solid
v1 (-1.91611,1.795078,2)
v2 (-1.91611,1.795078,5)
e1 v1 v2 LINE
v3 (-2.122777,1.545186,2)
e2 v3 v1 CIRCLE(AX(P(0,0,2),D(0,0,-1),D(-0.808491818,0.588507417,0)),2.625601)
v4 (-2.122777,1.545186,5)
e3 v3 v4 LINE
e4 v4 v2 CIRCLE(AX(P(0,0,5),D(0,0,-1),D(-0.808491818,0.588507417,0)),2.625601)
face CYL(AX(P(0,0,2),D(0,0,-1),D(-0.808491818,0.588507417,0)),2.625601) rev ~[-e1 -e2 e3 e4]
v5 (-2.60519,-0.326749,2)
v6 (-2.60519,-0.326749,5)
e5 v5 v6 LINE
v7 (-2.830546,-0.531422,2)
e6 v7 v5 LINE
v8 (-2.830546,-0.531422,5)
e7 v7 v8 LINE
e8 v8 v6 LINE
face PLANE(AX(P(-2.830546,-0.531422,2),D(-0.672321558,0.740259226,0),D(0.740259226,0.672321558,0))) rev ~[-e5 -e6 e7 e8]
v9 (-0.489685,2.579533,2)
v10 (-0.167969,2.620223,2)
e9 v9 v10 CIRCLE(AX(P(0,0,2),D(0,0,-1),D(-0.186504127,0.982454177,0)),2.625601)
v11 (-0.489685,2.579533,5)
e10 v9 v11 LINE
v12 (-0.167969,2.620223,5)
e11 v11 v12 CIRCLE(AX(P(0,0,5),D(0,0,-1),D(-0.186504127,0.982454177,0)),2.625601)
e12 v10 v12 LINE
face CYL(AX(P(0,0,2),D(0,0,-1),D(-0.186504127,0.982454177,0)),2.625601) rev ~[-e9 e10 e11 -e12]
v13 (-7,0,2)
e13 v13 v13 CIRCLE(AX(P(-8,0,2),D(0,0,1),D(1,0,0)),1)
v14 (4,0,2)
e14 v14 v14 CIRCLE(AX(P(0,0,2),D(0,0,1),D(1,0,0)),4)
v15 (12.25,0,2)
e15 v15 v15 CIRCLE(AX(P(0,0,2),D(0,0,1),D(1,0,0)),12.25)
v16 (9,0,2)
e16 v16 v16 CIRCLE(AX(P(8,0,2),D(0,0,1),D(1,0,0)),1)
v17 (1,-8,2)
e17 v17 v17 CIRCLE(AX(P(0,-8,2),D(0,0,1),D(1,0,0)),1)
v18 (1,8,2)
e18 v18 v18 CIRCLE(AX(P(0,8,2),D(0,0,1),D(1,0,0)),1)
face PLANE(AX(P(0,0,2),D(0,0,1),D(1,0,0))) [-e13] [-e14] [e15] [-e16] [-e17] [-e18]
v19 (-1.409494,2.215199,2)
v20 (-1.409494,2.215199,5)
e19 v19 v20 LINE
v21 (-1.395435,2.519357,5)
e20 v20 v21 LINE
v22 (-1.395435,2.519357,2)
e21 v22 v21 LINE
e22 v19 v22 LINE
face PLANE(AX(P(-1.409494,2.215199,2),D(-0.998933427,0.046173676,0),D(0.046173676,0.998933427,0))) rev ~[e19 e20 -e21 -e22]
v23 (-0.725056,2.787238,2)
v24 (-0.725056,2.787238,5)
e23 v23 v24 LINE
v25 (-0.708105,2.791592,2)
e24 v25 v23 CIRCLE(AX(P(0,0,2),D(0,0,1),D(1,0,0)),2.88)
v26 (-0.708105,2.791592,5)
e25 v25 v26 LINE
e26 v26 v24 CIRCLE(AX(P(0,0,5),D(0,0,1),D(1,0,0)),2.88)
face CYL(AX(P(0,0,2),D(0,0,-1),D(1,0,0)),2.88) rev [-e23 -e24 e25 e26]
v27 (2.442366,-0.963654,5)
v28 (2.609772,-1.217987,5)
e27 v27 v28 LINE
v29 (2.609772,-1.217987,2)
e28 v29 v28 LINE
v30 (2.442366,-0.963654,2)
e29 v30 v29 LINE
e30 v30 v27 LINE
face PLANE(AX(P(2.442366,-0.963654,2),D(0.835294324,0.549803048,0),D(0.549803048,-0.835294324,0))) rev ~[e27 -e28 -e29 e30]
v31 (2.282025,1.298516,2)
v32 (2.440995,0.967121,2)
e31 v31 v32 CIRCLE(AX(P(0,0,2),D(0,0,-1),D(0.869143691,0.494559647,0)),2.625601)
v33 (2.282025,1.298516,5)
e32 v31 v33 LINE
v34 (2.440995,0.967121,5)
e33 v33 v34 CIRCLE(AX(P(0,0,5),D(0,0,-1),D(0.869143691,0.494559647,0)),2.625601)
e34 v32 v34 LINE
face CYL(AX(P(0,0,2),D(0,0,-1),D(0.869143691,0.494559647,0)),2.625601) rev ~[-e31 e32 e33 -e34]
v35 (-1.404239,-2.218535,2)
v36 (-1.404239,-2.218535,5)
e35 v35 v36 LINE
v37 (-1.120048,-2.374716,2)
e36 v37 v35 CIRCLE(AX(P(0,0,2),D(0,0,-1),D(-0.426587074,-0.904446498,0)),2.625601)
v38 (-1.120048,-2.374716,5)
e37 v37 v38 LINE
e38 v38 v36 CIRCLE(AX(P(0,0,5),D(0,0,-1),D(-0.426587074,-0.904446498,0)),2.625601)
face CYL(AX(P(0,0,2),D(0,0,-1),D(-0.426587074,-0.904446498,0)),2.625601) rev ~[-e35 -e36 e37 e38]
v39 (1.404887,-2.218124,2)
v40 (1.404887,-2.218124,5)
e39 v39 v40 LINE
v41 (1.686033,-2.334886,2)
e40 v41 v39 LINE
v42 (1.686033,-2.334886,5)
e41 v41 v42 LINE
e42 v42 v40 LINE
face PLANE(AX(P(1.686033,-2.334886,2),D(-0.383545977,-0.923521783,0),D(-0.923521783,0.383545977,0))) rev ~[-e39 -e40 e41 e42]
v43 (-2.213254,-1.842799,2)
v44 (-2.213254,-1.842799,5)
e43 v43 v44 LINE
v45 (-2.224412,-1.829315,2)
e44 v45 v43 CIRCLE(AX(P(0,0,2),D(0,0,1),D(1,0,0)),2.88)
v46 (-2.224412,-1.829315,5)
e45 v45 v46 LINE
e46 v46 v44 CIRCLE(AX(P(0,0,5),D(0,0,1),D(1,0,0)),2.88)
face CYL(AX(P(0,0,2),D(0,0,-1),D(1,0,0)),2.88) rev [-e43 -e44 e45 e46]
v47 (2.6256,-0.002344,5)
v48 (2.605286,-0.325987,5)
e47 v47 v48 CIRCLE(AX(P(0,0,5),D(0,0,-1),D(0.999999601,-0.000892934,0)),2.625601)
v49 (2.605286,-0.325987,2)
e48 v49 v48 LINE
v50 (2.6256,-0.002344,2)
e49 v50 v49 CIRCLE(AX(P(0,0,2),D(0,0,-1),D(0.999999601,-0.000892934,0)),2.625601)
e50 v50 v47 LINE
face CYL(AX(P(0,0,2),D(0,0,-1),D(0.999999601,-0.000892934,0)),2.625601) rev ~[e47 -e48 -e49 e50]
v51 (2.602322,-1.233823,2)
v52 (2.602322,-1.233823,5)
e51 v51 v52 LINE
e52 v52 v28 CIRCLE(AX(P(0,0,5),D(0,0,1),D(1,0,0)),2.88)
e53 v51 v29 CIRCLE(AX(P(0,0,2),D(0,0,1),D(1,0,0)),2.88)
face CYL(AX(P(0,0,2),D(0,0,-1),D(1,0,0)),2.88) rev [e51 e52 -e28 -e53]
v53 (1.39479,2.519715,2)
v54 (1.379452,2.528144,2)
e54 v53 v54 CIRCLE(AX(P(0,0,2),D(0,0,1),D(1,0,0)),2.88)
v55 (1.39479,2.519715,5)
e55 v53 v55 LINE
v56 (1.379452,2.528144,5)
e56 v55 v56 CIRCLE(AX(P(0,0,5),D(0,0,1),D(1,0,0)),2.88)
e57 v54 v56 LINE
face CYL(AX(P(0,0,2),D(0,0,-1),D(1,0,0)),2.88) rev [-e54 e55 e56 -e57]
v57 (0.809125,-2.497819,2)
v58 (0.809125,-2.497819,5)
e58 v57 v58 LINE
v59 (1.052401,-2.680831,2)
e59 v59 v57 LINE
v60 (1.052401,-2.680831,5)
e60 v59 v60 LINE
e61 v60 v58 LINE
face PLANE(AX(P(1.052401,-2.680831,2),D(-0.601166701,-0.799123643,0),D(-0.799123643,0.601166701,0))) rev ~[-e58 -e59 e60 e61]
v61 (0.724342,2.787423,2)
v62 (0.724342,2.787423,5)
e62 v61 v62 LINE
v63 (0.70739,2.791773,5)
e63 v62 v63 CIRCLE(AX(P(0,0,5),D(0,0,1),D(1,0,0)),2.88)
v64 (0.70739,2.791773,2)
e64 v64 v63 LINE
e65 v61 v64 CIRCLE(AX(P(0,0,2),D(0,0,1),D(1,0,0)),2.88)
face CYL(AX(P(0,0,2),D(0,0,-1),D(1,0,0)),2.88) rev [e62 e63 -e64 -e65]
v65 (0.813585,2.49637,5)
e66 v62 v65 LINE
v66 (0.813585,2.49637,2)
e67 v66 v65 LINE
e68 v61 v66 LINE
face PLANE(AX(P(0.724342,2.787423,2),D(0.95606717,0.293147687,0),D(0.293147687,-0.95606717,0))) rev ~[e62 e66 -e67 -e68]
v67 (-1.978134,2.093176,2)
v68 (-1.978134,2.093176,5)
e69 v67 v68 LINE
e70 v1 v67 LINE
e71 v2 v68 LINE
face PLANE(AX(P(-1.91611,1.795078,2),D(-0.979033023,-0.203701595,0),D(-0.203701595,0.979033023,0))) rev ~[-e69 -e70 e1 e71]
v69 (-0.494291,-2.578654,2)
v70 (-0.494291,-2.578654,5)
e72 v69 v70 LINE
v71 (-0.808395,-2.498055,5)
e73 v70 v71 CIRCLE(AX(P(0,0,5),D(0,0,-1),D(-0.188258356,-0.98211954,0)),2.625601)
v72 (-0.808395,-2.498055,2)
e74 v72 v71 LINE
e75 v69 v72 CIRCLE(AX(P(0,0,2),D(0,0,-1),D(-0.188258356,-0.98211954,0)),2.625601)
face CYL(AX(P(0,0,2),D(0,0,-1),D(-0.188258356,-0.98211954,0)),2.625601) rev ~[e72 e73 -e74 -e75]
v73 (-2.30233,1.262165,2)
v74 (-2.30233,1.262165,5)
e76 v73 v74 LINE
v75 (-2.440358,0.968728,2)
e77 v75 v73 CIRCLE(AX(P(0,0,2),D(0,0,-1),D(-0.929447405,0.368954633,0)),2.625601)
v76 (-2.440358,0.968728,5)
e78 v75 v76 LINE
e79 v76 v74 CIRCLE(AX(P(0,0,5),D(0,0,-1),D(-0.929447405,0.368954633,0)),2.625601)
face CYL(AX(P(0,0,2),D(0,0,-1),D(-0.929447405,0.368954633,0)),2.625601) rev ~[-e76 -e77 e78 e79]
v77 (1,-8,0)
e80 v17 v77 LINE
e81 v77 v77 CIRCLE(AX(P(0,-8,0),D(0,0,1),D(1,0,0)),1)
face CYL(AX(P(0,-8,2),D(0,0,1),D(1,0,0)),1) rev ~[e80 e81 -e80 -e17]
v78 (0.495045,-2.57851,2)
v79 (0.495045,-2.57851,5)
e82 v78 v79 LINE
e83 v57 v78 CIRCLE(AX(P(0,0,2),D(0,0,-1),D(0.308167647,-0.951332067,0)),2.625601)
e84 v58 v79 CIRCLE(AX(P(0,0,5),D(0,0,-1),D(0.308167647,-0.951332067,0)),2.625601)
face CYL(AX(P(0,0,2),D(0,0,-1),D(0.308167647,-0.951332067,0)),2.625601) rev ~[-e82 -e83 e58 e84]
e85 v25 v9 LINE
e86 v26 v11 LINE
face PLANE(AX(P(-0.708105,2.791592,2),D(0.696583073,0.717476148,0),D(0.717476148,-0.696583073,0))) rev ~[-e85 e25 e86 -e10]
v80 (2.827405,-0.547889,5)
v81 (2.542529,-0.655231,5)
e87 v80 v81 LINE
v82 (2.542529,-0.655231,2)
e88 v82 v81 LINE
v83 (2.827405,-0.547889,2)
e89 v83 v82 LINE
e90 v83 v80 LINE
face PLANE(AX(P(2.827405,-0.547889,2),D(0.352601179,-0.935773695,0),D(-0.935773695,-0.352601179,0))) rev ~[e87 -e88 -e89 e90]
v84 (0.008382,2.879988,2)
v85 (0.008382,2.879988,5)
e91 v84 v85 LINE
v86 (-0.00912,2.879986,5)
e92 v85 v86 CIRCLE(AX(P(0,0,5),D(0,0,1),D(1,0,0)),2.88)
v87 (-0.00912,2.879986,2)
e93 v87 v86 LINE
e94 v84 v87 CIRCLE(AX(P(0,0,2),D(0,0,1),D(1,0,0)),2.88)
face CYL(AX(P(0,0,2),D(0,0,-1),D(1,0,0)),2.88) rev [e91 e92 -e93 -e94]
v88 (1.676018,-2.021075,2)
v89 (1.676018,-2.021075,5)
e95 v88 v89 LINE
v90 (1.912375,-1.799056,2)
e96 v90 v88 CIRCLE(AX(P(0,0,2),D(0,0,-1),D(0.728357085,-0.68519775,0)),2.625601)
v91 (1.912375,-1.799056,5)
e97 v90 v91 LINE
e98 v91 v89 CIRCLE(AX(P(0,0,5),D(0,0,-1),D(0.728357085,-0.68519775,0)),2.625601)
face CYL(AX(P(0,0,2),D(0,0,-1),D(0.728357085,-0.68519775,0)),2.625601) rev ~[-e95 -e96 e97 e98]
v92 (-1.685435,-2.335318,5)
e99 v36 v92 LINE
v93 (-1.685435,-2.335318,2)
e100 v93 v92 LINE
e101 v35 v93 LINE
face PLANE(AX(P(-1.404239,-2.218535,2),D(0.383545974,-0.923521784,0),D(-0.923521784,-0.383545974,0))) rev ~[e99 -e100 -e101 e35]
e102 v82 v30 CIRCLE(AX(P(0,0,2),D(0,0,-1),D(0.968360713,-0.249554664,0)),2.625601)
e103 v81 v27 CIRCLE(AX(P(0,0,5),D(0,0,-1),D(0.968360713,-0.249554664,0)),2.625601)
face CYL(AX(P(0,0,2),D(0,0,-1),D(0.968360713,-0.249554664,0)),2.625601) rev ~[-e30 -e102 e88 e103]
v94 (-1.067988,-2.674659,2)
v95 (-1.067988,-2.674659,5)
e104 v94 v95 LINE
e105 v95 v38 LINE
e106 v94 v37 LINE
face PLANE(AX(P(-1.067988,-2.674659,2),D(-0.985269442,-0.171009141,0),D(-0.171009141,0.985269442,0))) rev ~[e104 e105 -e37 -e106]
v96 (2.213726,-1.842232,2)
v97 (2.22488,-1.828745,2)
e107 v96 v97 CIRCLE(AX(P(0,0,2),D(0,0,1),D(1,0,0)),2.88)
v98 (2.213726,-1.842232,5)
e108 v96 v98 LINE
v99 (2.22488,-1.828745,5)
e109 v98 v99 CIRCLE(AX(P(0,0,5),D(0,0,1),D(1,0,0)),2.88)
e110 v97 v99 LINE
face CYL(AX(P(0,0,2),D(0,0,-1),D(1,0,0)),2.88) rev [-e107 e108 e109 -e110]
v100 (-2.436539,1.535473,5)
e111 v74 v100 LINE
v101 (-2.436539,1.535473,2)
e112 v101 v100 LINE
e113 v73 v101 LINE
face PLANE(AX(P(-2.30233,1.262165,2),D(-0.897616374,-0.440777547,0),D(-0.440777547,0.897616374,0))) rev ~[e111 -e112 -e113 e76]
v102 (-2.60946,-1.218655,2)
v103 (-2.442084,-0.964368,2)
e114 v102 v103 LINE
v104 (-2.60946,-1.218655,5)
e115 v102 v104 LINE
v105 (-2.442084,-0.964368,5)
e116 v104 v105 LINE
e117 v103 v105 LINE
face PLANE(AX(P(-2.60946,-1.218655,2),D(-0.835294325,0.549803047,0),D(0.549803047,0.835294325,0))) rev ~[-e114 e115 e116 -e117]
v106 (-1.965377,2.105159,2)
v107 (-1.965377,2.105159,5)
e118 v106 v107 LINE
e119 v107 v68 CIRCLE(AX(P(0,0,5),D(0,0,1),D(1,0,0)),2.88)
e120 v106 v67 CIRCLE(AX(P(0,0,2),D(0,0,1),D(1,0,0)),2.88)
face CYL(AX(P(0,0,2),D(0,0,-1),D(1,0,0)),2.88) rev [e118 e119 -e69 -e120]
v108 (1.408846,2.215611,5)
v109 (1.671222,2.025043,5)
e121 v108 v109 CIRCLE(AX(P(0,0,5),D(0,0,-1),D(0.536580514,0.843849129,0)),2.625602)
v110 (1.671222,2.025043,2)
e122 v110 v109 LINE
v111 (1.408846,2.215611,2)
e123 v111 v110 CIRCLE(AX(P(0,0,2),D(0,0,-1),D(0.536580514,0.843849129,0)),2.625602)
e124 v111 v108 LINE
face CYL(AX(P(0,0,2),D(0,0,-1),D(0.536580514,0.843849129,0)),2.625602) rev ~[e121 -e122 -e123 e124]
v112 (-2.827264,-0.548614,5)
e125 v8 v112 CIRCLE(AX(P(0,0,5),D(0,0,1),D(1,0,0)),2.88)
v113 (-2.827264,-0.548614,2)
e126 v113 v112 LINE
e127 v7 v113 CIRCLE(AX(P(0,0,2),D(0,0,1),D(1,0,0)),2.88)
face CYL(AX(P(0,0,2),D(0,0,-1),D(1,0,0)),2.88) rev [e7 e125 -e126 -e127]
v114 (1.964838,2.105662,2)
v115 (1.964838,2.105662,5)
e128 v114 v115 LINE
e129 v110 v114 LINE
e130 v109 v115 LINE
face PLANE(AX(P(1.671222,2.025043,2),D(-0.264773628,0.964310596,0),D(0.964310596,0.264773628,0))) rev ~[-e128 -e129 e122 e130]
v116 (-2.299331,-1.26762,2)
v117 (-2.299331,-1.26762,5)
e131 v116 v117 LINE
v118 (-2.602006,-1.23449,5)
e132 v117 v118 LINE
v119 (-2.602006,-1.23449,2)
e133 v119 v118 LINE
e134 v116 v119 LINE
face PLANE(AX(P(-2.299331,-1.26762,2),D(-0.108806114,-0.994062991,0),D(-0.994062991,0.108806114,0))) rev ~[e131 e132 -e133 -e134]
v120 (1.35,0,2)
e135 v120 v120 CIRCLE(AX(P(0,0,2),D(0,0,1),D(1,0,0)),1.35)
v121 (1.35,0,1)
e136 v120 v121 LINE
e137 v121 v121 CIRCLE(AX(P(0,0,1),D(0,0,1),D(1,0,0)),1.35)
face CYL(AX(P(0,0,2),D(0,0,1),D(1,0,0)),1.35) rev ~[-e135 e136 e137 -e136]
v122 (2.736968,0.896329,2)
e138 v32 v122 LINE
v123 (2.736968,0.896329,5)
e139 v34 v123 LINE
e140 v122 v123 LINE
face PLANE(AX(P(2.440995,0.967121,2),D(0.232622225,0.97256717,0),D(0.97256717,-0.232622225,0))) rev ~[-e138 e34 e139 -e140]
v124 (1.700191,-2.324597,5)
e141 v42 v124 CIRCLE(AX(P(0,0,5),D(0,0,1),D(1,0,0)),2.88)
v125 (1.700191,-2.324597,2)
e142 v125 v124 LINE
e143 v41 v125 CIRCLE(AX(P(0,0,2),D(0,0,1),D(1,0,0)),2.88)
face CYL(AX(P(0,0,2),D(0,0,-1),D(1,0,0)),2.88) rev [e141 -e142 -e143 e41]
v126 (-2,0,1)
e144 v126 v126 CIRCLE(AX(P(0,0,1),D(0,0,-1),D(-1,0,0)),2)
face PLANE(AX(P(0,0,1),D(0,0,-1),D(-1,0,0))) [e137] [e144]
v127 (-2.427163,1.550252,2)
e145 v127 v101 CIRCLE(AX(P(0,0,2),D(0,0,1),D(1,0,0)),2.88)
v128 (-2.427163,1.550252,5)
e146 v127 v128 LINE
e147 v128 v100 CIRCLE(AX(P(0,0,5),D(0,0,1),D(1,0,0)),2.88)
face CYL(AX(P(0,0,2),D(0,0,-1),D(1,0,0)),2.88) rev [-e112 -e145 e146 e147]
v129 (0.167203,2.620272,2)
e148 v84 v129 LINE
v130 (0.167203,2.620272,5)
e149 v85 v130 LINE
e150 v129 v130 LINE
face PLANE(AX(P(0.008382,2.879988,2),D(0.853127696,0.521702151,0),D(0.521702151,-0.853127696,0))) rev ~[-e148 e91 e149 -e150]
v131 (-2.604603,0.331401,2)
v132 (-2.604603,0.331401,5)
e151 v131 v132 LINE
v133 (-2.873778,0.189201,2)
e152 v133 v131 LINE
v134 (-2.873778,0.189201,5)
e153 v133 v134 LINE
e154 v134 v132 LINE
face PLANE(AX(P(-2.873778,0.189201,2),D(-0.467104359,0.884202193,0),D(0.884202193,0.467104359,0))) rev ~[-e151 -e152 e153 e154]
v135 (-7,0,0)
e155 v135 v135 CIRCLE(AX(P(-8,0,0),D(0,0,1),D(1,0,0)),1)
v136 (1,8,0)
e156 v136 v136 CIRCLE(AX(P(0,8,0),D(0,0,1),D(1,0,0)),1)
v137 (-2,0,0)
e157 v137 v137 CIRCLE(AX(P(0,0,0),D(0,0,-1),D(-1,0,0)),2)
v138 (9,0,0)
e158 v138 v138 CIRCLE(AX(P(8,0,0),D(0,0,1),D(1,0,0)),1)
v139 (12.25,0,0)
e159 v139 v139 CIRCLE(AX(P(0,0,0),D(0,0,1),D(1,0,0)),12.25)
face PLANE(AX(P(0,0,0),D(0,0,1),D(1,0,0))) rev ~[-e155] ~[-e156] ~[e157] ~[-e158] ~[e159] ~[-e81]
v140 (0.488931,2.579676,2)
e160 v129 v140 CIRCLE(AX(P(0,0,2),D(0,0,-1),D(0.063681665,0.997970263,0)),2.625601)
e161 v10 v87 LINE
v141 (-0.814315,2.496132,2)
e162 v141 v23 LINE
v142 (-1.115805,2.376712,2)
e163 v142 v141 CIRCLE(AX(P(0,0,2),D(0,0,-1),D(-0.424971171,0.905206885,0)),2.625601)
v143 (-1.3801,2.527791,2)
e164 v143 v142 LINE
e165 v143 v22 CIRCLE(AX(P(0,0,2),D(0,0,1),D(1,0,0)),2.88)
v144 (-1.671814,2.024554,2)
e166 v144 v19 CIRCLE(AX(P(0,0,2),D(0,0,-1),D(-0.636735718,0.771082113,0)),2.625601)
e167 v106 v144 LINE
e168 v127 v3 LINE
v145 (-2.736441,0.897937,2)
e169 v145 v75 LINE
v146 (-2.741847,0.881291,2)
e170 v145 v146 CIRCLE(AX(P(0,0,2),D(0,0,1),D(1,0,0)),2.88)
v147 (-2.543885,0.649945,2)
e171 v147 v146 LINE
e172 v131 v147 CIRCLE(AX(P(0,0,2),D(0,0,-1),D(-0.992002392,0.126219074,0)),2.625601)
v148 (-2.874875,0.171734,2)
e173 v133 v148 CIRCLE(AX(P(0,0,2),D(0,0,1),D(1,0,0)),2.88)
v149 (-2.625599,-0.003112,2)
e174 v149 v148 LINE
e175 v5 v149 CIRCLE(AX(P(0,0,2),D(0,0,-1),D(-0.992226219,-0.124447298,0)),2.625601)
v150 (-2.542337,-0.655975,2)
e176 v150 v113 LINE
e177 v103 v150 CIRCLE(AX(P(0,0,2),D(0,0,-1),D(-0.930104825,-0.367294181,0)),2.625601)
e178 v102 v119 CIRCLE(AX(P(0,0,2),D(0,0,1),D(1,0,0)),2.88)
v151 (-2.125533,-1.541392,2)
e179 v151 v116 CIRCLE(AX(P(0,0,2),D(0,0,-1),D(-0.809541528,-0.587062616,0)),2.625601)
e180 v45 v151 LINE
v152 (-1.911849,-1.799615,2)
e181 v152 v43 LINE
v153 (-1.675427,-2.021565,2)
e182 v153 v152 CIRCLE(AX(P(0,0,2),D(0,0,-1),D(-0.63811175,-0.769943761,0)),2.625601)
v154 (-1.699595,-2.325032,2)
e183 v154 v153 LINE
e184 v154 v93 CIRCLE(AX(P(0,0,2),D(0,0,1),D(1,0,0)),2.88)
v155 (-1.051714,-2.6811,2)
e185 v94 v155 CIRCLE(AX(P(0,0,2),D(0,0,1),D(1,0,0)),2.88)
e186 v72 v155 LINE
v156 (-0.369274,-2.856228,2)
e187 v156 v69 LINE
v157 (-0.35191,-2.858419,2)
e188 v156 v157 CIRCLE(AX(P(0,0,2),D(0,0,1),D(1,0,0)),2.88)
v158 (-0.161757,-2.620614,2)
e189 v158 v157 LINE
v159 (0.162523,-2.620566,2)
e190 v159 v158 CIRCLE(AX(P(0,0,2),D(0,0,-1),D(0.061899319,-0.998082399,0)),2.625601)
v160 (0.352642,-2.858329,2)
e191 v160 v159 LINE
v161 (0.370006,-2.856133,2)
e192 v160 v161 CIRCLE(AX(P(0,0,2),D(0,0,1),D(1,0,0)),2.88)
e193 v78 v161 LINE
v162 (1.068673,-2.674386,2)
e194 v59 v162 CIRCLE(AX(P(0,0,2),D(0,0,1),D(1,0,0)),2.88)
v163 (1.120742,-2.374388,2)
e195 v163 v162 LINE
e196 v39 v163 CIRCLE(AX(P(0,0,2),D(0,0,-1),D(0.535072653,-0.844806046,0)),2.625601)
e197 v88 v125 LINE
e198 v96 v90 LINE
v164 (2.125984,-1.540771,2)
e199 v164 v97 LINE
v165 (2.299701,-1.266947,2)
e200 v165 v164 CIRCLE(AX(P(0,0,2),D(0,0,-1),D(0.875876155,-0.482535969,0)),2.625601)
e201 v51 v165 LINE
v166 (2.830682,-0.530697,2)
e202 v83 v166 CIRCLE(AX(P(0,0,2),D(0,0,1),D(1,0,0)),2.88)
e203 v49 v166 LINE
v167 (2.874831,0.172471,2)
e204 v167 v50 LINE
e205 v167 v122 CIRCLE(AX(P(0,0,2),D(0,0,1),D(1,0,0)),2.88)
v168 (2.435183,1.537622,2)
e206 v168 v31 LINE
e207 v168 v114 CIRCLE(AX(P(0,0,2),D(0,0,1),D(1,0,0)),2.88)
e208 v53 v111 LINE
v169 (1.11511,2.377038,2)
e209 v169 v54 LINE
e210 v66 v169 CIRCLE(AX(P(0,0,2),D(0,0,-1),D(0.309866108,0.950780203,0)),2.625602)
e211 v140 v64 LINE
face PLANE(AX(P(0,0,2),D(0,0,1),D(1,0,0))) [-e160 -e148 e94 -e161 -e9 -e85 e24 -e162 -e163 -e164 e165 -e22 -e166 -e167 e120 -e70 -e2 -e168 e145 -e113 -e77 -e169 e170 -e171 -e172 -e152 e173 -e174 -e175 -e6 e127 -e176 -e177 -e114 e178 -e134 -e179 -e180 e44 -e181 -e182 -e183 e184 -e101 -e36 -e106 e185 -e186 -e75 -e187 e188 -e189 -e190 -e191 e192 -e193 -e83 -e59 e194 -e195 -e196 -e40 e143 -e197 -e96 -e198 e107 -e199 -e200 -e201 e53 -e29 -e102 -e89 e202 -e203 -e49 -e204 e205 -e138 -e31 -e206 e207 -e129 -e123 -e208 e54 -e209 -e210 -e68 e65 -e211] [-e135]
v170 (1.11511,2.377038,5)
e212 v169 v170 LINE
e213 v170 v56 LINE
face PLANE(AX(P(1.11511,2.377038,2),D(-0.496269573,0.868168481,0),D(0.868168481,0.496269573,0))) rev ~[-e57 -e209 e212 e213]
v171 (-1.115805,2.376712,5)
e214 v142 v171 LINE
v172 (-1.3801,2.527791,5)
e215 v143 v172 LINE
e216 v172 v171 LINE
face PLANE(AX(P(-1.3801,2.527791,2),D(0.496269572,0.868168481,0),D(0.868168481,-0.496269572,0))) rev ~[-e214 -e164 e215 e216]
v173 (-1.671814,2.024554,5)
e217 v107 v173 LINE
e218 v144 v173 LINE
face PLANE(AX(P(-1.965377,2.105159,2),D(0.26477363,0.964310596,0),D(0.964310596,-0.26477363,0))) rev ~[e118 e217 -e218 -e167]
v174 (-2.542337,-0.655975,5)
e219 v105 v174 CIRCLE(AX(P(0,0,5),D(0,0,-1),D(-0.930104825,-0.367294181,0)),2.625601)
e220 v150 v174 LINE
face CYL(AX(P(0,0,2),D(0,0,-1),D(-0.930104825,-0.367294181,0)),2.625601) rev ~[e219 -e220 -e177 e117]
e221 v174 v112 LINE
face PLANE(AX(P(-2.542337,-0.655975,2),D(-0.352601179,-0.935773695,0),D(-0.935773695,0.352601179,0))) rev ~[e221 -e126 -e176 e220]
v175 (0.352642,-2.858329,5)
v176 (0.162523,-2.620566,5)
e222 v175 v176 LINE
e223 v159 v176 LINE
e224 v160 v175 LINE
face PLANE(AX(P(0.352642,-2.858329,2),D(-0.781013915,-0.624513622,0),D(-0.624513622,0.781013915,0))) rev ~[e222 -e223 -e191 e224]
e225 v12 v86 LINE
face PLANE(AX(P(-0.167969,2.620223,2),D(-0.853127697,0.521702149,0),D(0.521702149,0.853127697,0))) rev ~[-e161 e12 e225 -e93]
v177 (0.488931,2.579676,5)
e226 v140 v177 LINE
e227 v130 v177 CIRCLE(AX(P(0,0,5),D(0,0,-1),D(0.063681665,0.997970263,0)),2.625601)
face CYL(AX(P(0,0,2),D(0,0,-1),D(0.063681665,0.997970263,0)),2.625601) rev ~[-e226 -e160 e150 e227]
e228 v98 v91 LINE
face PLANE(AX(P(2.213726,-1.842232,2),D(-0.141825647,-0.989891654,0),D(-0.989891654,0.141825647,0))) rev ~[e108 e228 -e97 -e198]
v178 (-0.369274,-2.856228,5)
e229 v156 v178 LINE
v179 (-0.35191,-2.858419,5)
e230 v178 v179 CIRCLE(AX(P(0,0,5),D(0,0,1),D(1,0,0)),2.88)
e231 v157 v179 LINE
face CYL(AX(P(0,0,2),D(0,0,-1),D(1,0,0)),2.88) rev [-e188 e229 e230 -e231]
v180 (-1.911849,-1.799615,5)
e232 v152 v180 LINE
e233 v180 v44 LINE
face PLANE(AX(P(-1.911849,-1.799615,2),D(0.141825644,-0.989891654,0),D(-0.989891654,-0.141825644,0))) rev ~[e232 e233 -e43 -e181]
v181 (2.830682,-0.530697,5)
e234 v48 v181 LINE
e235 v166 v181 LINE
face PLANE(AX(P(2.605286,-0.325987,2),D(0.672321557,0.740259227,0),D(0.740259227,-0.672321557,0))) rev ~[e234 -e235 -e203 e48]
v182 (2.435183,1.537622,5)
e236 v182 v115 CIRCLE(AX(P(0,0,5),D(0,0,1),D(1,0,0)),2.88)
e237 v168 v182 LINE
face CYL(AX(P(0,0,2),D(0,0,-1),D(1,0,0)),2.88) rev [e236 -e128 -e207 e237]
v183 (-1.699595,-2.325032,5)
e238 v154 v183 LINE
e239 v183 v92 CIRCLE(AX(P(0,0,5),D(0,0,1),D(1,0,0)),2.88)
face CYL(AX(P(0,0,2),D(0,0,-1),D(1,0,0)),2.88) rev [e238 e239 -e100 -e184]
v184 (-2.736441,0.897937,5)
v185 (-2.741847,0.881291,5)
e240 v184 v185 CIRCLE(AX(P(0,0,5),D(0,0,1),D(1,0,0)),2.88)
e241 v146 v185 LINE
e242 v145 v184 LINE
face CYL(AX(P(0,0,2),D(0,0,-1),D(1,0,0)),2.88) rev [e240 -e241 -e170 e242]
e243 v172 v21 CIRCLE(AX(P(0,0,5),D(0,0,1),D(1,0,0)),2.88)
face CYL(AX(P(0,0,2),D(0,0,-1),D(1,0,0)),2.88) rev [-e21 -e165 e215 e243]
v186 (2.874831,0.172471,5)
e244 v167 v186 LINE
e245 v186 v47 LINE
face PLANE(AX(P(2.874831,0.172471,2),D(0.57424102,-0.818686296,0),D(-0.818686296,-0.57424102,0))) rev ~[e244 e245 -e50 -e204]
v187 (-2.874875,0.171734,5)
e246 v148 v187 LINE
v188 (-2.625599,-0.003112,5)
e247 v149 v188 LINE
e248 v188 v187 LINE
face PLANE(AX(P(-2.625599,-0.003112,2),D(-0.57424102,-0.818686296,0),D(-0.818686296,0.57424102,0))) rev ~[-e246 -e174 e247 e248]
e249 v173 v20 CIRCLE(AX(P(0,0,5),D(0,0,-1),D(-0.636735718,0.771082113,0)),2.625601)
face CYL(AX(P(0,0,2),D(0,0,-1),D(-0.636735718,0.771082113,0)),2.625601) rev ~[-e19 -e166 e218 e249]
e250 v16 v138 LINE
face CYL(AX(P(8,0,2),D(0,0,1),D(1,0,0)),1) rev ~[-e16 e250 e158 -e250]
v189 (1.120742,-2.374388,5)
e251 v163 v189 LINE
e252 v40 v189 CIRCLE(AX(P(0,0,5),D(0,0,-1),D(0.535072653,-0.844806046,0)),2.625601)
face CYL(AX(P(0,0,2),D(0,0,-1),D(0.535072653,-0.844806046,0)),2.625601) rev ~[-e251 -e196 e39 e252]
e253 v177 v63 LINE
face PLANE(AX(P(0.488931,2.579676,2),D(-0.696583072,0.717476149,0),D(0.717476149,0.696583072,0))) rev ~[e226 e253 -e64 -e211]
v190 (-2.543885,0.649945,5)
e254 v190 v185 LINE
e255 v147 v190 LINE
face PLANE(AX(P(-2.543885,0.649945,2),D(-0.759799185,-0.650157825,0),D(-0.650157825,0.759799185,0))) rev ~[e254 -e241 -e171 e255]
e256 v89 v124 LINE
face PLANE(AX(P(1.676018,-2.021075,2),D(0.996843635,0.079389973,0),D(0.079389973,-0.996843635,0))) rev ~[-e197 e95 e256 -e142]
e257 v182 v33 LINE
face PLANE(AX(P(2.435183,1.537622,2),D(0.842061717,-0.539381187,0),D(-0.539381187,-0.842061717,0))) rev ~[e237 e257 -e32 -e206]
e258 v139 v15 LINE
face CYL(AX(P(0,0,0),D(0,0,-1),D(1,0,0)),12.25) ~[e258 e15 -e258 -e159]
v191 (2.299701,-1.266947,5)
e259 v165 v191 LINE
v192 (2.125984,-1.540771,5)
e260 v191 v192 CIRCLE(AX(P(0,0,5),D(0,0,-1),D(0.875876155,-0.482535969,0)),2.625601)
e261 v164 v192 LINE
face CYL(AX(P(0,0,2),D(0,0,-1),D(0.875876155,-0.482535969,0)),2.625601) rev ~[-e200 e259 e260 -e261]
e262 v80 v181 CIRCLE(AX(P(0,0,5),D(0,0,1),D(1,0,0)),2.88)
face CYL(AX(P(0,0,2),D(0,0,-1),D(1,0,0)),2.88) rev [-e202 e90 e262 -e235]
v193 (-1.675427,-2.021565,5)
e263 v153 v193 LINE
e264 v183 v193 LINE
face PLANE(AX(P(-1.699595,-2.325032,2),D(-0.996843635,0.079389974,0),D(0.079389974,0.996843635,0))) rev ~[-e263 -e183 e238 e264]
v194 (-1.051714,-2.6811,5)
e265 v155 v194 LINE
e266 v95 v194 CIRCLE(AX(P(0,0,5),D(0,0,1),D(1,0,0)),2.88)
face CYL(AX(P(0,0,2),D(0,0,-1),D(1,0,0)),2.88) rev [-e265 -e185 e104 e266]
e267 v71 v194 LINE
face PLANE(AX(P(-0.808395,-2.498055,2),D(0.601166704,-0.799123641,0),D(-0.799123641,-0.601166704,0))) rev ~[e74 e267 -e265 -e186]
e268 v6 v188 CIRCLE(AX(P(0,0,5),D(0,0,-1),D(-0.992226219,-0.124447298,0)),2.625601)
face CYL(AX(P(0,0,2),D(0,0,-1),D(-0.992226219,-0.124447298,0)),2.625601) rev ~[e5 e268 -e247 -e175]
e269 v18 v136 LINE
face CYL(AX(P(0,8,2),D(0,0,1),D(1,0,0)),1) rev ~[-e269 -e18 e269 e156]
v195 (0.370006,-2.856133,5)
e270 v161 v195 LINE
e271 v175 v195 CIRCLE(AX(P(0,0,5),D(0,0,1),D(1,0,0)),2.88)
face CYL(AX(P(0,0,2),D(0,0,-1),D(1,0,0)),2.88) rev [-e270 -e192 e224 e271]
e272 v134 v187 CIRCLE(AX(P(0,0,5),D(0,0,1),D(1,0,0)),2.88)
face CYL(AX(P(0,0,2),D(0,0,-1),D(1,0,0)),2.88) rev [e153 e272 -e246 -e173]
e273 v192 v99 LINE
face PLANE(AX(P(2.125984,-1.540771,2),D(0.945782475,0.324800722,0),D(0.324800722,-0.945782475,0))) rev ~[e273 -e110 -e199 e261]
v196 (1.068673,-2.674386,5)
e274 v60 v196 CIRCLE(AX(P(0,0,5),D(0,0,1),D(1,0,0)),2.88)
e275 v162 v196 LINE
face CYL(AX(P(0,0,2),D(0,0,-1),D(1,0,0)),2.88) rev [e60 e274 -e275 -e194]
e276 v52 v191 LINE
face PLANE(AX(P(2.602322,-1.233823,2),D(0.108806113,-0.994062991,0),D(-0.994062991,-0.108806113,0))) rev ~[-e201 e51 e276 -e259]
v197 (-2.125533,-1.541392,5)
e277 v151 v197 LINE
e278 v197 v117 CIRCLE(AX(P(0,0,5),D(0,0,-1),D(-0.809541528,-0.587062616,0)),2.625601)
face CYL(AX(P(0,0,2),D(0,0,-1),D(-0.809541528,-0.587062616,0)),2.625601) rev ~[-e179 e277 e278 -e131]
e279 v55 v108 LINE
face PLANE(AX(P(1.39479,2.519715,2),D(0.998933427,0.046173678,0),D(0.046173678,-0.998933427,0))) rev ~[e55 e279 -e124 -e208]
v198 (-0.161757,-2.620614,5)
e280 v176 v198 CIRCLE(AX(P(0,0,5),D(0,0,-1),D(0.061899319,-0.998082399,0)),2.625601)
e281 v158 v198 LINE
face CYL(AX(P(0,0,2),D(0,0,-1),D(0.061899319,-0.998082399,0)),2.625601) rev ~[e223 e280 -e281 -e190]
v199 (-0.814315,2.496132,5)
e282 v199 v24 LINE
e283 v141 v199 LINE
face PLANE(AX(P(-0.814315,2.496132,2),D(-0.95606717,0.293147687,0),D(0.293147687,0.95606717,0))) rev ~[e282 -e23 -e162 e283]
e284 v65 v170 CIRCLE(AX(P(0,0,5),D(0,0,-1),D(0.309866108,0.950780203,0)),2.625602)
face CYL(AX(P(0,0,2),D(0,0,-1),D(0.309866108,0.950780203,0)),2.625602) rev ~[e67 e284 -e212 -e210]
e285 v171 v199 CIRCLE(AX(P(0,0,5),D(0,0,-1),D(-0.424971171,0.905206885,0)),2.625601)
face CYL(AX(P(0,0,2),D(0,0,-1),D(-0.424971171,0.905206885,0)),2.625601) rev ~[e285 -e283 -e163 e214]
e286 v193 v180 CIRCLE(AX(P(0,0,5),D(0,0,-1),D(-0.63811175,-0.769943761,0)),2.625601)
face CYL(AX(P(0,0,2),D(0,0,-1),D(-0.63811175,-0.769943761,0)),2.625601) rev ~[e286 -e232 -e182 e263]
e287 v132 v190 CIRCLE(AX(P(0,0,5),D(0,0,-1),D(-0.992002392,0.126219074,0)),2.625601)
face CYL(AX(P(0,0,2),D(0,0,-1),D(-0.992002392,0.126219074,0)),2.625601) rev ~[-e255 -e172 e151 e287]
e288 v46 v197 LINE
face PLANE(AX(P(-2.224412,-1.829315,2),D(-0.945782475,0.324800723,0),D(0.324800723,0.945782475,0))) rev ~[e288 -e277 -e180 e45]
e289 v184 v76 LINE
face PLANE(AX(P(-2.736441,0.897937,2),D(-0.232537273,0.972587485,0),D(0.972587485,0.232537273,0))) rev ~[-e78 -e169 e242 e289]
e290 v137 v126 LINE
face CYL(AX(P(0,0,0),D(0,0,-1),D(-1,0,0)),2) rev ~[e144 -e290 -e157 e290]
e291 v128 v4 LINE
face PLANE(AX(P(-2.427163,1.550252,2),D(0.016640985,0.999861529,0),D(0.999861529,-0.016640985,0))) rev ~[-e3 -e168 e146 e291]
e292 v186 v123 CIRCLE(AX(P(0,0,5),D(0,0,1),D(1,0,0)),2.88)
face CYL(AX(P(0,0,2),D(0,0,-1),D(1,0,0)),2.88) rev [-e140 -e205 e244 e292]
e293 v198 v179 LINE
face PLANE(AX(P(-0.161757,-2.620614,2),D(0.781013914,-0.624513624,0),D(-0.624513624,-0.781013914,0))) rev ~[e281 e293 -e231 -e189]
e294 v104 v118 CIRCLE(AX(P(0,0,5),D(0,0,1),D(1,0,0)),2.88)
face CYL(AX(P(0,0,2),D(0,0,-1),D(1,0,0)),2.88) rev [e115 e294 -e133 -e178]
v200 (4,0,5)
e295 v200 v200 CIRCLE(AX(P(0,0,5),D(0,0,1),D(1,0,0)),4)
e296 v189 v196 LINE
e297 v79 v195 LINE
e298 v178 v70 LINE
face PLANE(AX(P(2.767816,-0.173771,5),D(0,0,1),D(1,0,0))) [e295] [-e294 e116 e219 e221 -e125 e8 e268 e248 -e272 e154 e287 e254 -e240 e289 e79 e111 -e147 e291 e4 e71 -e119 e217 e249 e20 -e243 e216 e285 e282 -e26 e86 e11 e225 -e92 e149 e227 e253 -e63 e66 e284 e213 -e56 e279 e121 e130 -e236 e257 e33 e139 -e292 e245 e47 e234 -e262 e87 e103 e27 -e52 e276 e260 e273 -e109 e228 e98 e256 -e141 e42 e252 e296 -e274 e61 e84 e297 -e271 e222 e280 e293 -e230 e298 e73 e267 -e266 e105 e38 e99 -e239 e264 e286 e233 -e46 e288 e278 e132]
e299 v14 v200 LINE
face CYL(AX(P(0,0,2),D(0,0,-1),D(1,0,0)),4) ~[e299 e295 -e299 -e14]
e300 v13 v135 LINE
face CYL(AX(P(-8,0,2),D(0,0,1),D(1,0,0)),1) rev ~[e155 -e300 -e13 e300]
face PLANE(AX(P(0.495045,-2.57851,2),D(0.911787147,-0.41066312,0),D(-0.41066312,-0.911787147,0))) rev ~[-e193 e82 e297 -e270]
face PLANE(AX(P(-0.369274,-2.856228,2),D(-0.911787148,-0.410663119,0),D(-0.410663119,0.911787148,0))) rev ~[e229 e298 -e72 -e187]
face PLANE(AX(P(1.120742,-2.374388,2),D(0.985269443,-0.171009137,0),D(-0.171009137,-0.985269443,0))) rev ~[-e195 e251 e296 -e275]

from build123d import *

# Parameters (mm, degrees)
SKETCH1_R           = 12.25
BOSS_EXTRUDE1_DEPTH = 2
SKETCH2_R           = 1
CUT_EXTRUDE1_DEPTH  = 2
SKETCH3_R           = 1.35
CUT_EXTRUDE2_DEPTH  = 4
SKETCH4_R           = 4
SKETCH4_R_2         = 2.88
BOSS_EXTRUDE2_DEPTH = 3
SKETCH6_R           = 2
CUT_EXTRUDE3_DEPTH  = 1
BOSS_EXTRUDE4_START = -3
BOSS_EXTRUDE4_DEPTH = 3


with BuildPart() as part:
    # Sketch1 → Boss-Extrude1 (new body)
    with BuildSketch(Plane.XY):
        Circle(SKETCH1_R)
    extrude(amount=BOSS_EXTRUDE1_DEPTH)

    # Sketch2 → Cut-Extrude1 (cut)
    with BuildSketch(Plane.XY.offset(2)):
        with Locations((-8, 0)):
            Circle(SKETCH2_R)
        with Locations((0, 8)):
            Circle(SKETCH2_R)
        with Locations((8, 0)):
            Circle(SKETCH2_R)
        with Locations((0, -8)):
            Circle(SKETCH2_R)
    extrude(amount=-CUT_EXTRUDE1_DEPTH, mode=Mode.SUBTRACT)

    # Sketch3 → Cut-Extrude2 (cut)
    with BuildSketch(Plane.XY.offset(2)):
        Circle(SKETCH3_R)
    extrude(amount=-CUT_EXTRUDE2_DEPTH, mode=Mode.SUBTRACT)

    # Sketch4 → Boss-Extrude2 (add)
    with BuildSketch(Plane.XY.offset(2)):
        Circle(SKETCH4_R)
        Circle(SKETCH4_R_2, mode=Mode.SUBTRACT)
    extrude(amount=BOSS_EXTRUDE2_DEPTH)

    # Sketch6 → Cut-Extrude3 (cut)
    with BuildSketch(Plane(origin=(0, 0, 0), x_dir=(-1, 0, 0), z_dir=(0, 0, -1))):
        Circle(SKETCH6_R)
    extrude(amount=-CUT_EXTRUDE3_DEPTH, mode=Mode.SUBTRACT)

    # Sketch5 → Boss-Extrude4 (add)
    with BuildSketch(Plane.XY.offset(5).offset(BOSS_EXTRUDE4_START)):
        with BuildLine():
            Line((-0.161756527, -2.620613729), (-0.351910166, -2.85841901))
            ThreePointArc((-0.351910166, -2.85841901), (0.000368858, -2.879999976), (0.352642342, -2.858328774))
            Line((0.352642342, -2.858328774), (0.162522941, -2.62056631))
            ThreePointArc((0.162522941, -2.62056631), (0.00038394, -2.625601139), (-0.161756527, -2.620613729))
        make_face()
        with BuildLine():
            ThreePointArc((-1.051714162, -2.681100021), (-0.715869599, -2.789611212), (-0.369274025, -2.856227703))
            Line((-0.369274025, -2.856227703), (-0.494291356, -2.578654212))
            ThreePointArc((-0.494291356, -2.578654212), (-0.652588574, -2.543208533), (-0.808394781, -2.498055117))
            Line((-0.808394781, -2.498055117), (-1.051714162, -2.681100021))
        make_face()
        with BuildLine():
            Line((0.495045485, -2.578509542), (0.37000564, -2.85613302))
            ThreePointArc((0.37000564, -2.85613302), (0.716584139, -2.78942775), (1.052400895, -2.680830535))
            Line((1.052400895, -2.680830535), (0.809125323, -2.497818589))
            ThreePointArc((0.809125323, -2.497818589), (0.653332329, -2.54301757), (0.495045485, -2.578509542))
        make_face()
        with BuildLine():
            ThreePointArc((-1.685435089, -2.335317657), (-1.387127337, -2.523940917), (-1.067987548, -2.674659342))
            Line((-1.067987548, -2.674659342), (-1.12004751, -2.374715787))
            ThreePointArc((-1.12004751, -2.374715787), (-1.264556547, -2.301016782), (-1.404238617, -2.218534516))
            Line((-1.404238617, -2.218534516), (-1.685435089, -2.335317657))
        make_face()
        with BuildLine():
            Line((1.120741967, -2.374388118), (1.068672631, -2.674385688))
            ThreePointArc((1.068672631, -2.674385688), (1.387773803, -2.523585519), (1.686033229, -2.334885854))
            Line((1.686033229, -2.334885854), (1.404887387, -2.218123739))
            ThreePointArc((1.404887387, -2.218123739), (1.265229445, -2.300646853), (1.120741967, -2.374388118))
        make_face()
        with BuildLine():
            ThreePointArc((-2.213253931, -1.842798696), (-1.971226763, -2.09968213), (-1.699595485, -2.325032298))
            Line((-1.699595485, -2.325032298), (-1.675426958, -2.021565235))
            ThreePointArc((-1.675426958, -2.021565235), (-1.797067781, -1.914243684), (-1.911848977, -1.799615231))
            Line((-1.911848977, -1.799615231), (-2.213253931, -1.842798696))
        make_face()
        with BuildLine():
            Line((1.676018111, -2.021075155), (1.70019099, -2.324596868))
            ThreePointArc((1.70019099, -2.324596868), (1.971764535, -2.099177129), (2.213725894, -1.842231708))
            Line((2.213725894, -1.842231708), (1.912375208, -1.799056017))
            ThreePointArc((1.912375208, -1.799056017), (1.797627541, -1.913718034), (1.676018111, -2.021075155))
        make_face()
        with BuildLine():
            ThreePointArc((-2.602005889, -1.234489916), (-2.431466761, -1.543492594), (-2.224411588, -1.829314923))
            Line((-2.224411588, -1.829314923), (-2.12553317, -1.541392304))
            ThreePointArc((-2.12553317, -1.541392304), (-2.216662638, -1.407191614), (-2.299330835, -1.267619503))
            Line((-2.299330835, -1.267619503), (-2.602005889, -1.234489916))
        make_face()
        with BuildLine():
            Line((2.125983872, -1.540770608), (2.224880096, -1.828745077))
            ThreePointArc((2.224880096, -1.828745077), (2.43186205, -1.54286972), (2.60232202, -1.233823368))
            Line((2.60232202, -1.233823368), (2.299701462, -1.26694699))
            ThreePointArc((2.299701462, -1.26694699), (2.217074088, -1.406543272), (2.125983872, -1.540770608))
        make_face()
        with BuildLine():
            ThreePointArc((-2.827264247, -0.548613595), (-2.738928761, -0.890319741), (-2.609459729, -1.218654964))
            Line((-2.609459729, -1.218654964), (-2.442084315, -0.964368026))
            ThreePointArc((-2.442084315, -0.964368026), (-2.496976429, -0.811720521), (-2.542337279, -0.655974579))
            Line((-2.542337279, -0.655974579), (-2.827264247, -0.548613595))
        make_face()
        with BuildLine():
            Line((2.442366248, -0.963653777), (2.609771804, -1.217986508))
            ThreePointArc((2.609771804, -1.217986508), (2.739156728, -0.889618132), (2.827404683, -0.547889369))
            Line((2.827404683, -0.547889369), (2.542529016, -0.655231023))
            ThreePointArc((2.542529016, -0.655231023), (2.497213717, -0.810990224), (2.442366248, -0.963653777))
        make_face()
        with BuildLine():
            ThreePointArc((-2.874875195, 0.171734137), (-2.874293794, -0.181204825), (-2.830545919, -0.531422432))
            Line((-2.830545919, -0.531422432), (-2.605190321, -0.326748959))
            ThreePointArc((-2.605190321, -0.326748959), (-2.620396008, -0.165246042), (-2.625599323, -0.00311236))
            Line((-2.625599323, -0.00311236), (-2.874875195, 0.171734137))
        make_face()
        with BuildLine():
            Line((2.60528577, -0.325987035), (2.830681951, -0.530697366))
            ThreePointArc((2.830681951, -0.530697366), (2.874340115, -0.180468565), (2.874831111, 0.172470535))
            Line((2.874831111, 0.172470535), (2.625600121, -0.002344481))
            ThreePointArc((2.625600121, -0.002344481), (2.620444223, -0.164479678), (2.60528577, -0.325987035))
        make_face()
        with BuildLine():
            ThreePointArc((-2.741847161, 0.881291181), (-2.829056376, 0.539295857), (-2.873778498, 0.189201326))
            Line((-2.873778498, 0.189201326), (-2.604602638, 0.331400948))
            ThreePointArc((-2.604602638, 0.331400948), (-2.579166468, 0.491611454), (-2.543885305, 0.64994542))
            Line((-2.543885305, 0.64994542), (-2.741847161, 0.881291181))
        make_face()
        with BuildLine():
            ThreePointArc((-2.436538786, 1.535473459), (-2.606058942, 1.225910597), (-2.736441006, 0.897936869))
            Line((-2.736441006, 0.897936869), (-2.440358193, 0.968727714))
            ThreePointArc((-2.440358193, 0.968727714), (-2.375878414, 1.117579194), (-2.302329617, 1.262164738))
            Line((-2.302329617, 1.262164738), (-2.436538786, 1.535473459))
        make_face()
        with BuildLine():
            ThreePointArc((-1.978133718, 2.093176293), (-2.21931324, 1.835496865), (-2.427162861, 1.550251736))
            Line((-2.427162861, 1.550251736), (-2.122777067, 1.545185755))
            ThreePointArc((-2.122777067, 1.545185755), (-2.023305181, 1.673325323), (-1.916110092, 1.795077605))
            Line((-1.916110092, 1.795077605), (-1.978133718, 2.093176293))
        make_face()
        with BuildLine():
            Line((2.440995413, 0.967120926), (2.73696806, 0.89632909))
            ThreePointArc((2.73696806, 0.89632909), (2.605878342, 1.226294446), (2.435183429, 1.537622082))
            Line((2.435183429, 1.537622082), (2.282024688, 1.298516389))
            ThreePointArc((2.282024688, 1.298516389), (2.367316087, 1.135603819), (2.440995413, 0.967120926))
        make_face()
        with BuildLine():
            ThreePointArc((-1.395435234, 2.519357162), (-1.693119925, 2.329752115), (-1.965377147, 2.105158585))
            Line((-1.965377147, 2.105158585), (-1.671814051, 2.024554092))
            ThreePointArc((-1.671814051, 2.024554092), (-1.543600242, 2.123930268), (-1.409494323, 2.215199143))
            Line((-1.409494323, 2.215199143), (-1.395435234, 2.519357162))
        make_face()
        with BuildLine():
            ThreePointArc((-0.725056422, 2.787237554), (-1.060541659, 2.677620472), (-1.380099559, 2.527790578))
            Line((-1.380099559, 2.527790578), (-1.115804809, 2.37671225))
            ThreePointArc((-1.115804809, 2.37671225), (-0.966905223, 2.441080863), (-0.814314842, 2.496131573))
            Line((-0.814314842, 2.496131573), (-0.725056422, 2.787237554))
        make_face()
        with BuildLine():
            ThreePointArc((-0.009119648, 2.879985561), (-0.361325659, 2.857244086), (-0.70810524, 2.791592192))
            Line((-0.70810524, 2.791592192), (-0.489685448, 2.579532836))
            ThreePointArc((-0.489685448, 2.579532836), (-0.329455993, 2.60484937), (-0.167968964, 2.620222876))
            Line((-0.167968964, 2.620222876), (-0.009119648, 2.879985561))
        make_face()
        with BuildLine():
            Line((1.671221881, 2.025042942), (1.964837844, 2.10566195))
            ThreePointArc((1.964837844, 2.10566195), (1.6925231, 2.330185734), (1.394789851, 2.519714522))
            Line((1.394789851, 2.519714522), (1.408846409, 2.215611267))
            ThreePointArc((1.408846409, 2.215611267), (1.542979014, 2.124381616), (1.671221881, 2.025042942))
        make_face()
        with BuildLine():
            ThreePointArc((0.707390147, 2.791773483), (0.36059376, 2.857336547), (0.008381935, 2.879987803))
            Line((0.008381935, 2.879987803), (0.167202651, 2.620271888))
            ThreePointArc((0.167202651, 2.620271888), (0.328694169, 2.604945611), (0.488931021, 2.579675939))
            Line((0.488931021, 2.579675939), (0.707390147, 2.791773483))
        make_face()
        with BuildLine():
            Line((1.115109672, 2.377038475), (1.379452017, 2.52814401))
            ThreePointArc((1.379452017, 2.52814401), (1.059855747, 2.677892043), (0.724342443, 2.787423187))
            Line((0.724342443, 2.787423187), (0.813584792, 2.49636962))
            ThreePointArc((0.813584792, 2.49636962), (0.966191267, 2.441363538), (1.115109672, 2.377038475))
        make_face()
    extrude(amount=BOSS_EXTRUDE4_DEPTH)


solid = part.part
